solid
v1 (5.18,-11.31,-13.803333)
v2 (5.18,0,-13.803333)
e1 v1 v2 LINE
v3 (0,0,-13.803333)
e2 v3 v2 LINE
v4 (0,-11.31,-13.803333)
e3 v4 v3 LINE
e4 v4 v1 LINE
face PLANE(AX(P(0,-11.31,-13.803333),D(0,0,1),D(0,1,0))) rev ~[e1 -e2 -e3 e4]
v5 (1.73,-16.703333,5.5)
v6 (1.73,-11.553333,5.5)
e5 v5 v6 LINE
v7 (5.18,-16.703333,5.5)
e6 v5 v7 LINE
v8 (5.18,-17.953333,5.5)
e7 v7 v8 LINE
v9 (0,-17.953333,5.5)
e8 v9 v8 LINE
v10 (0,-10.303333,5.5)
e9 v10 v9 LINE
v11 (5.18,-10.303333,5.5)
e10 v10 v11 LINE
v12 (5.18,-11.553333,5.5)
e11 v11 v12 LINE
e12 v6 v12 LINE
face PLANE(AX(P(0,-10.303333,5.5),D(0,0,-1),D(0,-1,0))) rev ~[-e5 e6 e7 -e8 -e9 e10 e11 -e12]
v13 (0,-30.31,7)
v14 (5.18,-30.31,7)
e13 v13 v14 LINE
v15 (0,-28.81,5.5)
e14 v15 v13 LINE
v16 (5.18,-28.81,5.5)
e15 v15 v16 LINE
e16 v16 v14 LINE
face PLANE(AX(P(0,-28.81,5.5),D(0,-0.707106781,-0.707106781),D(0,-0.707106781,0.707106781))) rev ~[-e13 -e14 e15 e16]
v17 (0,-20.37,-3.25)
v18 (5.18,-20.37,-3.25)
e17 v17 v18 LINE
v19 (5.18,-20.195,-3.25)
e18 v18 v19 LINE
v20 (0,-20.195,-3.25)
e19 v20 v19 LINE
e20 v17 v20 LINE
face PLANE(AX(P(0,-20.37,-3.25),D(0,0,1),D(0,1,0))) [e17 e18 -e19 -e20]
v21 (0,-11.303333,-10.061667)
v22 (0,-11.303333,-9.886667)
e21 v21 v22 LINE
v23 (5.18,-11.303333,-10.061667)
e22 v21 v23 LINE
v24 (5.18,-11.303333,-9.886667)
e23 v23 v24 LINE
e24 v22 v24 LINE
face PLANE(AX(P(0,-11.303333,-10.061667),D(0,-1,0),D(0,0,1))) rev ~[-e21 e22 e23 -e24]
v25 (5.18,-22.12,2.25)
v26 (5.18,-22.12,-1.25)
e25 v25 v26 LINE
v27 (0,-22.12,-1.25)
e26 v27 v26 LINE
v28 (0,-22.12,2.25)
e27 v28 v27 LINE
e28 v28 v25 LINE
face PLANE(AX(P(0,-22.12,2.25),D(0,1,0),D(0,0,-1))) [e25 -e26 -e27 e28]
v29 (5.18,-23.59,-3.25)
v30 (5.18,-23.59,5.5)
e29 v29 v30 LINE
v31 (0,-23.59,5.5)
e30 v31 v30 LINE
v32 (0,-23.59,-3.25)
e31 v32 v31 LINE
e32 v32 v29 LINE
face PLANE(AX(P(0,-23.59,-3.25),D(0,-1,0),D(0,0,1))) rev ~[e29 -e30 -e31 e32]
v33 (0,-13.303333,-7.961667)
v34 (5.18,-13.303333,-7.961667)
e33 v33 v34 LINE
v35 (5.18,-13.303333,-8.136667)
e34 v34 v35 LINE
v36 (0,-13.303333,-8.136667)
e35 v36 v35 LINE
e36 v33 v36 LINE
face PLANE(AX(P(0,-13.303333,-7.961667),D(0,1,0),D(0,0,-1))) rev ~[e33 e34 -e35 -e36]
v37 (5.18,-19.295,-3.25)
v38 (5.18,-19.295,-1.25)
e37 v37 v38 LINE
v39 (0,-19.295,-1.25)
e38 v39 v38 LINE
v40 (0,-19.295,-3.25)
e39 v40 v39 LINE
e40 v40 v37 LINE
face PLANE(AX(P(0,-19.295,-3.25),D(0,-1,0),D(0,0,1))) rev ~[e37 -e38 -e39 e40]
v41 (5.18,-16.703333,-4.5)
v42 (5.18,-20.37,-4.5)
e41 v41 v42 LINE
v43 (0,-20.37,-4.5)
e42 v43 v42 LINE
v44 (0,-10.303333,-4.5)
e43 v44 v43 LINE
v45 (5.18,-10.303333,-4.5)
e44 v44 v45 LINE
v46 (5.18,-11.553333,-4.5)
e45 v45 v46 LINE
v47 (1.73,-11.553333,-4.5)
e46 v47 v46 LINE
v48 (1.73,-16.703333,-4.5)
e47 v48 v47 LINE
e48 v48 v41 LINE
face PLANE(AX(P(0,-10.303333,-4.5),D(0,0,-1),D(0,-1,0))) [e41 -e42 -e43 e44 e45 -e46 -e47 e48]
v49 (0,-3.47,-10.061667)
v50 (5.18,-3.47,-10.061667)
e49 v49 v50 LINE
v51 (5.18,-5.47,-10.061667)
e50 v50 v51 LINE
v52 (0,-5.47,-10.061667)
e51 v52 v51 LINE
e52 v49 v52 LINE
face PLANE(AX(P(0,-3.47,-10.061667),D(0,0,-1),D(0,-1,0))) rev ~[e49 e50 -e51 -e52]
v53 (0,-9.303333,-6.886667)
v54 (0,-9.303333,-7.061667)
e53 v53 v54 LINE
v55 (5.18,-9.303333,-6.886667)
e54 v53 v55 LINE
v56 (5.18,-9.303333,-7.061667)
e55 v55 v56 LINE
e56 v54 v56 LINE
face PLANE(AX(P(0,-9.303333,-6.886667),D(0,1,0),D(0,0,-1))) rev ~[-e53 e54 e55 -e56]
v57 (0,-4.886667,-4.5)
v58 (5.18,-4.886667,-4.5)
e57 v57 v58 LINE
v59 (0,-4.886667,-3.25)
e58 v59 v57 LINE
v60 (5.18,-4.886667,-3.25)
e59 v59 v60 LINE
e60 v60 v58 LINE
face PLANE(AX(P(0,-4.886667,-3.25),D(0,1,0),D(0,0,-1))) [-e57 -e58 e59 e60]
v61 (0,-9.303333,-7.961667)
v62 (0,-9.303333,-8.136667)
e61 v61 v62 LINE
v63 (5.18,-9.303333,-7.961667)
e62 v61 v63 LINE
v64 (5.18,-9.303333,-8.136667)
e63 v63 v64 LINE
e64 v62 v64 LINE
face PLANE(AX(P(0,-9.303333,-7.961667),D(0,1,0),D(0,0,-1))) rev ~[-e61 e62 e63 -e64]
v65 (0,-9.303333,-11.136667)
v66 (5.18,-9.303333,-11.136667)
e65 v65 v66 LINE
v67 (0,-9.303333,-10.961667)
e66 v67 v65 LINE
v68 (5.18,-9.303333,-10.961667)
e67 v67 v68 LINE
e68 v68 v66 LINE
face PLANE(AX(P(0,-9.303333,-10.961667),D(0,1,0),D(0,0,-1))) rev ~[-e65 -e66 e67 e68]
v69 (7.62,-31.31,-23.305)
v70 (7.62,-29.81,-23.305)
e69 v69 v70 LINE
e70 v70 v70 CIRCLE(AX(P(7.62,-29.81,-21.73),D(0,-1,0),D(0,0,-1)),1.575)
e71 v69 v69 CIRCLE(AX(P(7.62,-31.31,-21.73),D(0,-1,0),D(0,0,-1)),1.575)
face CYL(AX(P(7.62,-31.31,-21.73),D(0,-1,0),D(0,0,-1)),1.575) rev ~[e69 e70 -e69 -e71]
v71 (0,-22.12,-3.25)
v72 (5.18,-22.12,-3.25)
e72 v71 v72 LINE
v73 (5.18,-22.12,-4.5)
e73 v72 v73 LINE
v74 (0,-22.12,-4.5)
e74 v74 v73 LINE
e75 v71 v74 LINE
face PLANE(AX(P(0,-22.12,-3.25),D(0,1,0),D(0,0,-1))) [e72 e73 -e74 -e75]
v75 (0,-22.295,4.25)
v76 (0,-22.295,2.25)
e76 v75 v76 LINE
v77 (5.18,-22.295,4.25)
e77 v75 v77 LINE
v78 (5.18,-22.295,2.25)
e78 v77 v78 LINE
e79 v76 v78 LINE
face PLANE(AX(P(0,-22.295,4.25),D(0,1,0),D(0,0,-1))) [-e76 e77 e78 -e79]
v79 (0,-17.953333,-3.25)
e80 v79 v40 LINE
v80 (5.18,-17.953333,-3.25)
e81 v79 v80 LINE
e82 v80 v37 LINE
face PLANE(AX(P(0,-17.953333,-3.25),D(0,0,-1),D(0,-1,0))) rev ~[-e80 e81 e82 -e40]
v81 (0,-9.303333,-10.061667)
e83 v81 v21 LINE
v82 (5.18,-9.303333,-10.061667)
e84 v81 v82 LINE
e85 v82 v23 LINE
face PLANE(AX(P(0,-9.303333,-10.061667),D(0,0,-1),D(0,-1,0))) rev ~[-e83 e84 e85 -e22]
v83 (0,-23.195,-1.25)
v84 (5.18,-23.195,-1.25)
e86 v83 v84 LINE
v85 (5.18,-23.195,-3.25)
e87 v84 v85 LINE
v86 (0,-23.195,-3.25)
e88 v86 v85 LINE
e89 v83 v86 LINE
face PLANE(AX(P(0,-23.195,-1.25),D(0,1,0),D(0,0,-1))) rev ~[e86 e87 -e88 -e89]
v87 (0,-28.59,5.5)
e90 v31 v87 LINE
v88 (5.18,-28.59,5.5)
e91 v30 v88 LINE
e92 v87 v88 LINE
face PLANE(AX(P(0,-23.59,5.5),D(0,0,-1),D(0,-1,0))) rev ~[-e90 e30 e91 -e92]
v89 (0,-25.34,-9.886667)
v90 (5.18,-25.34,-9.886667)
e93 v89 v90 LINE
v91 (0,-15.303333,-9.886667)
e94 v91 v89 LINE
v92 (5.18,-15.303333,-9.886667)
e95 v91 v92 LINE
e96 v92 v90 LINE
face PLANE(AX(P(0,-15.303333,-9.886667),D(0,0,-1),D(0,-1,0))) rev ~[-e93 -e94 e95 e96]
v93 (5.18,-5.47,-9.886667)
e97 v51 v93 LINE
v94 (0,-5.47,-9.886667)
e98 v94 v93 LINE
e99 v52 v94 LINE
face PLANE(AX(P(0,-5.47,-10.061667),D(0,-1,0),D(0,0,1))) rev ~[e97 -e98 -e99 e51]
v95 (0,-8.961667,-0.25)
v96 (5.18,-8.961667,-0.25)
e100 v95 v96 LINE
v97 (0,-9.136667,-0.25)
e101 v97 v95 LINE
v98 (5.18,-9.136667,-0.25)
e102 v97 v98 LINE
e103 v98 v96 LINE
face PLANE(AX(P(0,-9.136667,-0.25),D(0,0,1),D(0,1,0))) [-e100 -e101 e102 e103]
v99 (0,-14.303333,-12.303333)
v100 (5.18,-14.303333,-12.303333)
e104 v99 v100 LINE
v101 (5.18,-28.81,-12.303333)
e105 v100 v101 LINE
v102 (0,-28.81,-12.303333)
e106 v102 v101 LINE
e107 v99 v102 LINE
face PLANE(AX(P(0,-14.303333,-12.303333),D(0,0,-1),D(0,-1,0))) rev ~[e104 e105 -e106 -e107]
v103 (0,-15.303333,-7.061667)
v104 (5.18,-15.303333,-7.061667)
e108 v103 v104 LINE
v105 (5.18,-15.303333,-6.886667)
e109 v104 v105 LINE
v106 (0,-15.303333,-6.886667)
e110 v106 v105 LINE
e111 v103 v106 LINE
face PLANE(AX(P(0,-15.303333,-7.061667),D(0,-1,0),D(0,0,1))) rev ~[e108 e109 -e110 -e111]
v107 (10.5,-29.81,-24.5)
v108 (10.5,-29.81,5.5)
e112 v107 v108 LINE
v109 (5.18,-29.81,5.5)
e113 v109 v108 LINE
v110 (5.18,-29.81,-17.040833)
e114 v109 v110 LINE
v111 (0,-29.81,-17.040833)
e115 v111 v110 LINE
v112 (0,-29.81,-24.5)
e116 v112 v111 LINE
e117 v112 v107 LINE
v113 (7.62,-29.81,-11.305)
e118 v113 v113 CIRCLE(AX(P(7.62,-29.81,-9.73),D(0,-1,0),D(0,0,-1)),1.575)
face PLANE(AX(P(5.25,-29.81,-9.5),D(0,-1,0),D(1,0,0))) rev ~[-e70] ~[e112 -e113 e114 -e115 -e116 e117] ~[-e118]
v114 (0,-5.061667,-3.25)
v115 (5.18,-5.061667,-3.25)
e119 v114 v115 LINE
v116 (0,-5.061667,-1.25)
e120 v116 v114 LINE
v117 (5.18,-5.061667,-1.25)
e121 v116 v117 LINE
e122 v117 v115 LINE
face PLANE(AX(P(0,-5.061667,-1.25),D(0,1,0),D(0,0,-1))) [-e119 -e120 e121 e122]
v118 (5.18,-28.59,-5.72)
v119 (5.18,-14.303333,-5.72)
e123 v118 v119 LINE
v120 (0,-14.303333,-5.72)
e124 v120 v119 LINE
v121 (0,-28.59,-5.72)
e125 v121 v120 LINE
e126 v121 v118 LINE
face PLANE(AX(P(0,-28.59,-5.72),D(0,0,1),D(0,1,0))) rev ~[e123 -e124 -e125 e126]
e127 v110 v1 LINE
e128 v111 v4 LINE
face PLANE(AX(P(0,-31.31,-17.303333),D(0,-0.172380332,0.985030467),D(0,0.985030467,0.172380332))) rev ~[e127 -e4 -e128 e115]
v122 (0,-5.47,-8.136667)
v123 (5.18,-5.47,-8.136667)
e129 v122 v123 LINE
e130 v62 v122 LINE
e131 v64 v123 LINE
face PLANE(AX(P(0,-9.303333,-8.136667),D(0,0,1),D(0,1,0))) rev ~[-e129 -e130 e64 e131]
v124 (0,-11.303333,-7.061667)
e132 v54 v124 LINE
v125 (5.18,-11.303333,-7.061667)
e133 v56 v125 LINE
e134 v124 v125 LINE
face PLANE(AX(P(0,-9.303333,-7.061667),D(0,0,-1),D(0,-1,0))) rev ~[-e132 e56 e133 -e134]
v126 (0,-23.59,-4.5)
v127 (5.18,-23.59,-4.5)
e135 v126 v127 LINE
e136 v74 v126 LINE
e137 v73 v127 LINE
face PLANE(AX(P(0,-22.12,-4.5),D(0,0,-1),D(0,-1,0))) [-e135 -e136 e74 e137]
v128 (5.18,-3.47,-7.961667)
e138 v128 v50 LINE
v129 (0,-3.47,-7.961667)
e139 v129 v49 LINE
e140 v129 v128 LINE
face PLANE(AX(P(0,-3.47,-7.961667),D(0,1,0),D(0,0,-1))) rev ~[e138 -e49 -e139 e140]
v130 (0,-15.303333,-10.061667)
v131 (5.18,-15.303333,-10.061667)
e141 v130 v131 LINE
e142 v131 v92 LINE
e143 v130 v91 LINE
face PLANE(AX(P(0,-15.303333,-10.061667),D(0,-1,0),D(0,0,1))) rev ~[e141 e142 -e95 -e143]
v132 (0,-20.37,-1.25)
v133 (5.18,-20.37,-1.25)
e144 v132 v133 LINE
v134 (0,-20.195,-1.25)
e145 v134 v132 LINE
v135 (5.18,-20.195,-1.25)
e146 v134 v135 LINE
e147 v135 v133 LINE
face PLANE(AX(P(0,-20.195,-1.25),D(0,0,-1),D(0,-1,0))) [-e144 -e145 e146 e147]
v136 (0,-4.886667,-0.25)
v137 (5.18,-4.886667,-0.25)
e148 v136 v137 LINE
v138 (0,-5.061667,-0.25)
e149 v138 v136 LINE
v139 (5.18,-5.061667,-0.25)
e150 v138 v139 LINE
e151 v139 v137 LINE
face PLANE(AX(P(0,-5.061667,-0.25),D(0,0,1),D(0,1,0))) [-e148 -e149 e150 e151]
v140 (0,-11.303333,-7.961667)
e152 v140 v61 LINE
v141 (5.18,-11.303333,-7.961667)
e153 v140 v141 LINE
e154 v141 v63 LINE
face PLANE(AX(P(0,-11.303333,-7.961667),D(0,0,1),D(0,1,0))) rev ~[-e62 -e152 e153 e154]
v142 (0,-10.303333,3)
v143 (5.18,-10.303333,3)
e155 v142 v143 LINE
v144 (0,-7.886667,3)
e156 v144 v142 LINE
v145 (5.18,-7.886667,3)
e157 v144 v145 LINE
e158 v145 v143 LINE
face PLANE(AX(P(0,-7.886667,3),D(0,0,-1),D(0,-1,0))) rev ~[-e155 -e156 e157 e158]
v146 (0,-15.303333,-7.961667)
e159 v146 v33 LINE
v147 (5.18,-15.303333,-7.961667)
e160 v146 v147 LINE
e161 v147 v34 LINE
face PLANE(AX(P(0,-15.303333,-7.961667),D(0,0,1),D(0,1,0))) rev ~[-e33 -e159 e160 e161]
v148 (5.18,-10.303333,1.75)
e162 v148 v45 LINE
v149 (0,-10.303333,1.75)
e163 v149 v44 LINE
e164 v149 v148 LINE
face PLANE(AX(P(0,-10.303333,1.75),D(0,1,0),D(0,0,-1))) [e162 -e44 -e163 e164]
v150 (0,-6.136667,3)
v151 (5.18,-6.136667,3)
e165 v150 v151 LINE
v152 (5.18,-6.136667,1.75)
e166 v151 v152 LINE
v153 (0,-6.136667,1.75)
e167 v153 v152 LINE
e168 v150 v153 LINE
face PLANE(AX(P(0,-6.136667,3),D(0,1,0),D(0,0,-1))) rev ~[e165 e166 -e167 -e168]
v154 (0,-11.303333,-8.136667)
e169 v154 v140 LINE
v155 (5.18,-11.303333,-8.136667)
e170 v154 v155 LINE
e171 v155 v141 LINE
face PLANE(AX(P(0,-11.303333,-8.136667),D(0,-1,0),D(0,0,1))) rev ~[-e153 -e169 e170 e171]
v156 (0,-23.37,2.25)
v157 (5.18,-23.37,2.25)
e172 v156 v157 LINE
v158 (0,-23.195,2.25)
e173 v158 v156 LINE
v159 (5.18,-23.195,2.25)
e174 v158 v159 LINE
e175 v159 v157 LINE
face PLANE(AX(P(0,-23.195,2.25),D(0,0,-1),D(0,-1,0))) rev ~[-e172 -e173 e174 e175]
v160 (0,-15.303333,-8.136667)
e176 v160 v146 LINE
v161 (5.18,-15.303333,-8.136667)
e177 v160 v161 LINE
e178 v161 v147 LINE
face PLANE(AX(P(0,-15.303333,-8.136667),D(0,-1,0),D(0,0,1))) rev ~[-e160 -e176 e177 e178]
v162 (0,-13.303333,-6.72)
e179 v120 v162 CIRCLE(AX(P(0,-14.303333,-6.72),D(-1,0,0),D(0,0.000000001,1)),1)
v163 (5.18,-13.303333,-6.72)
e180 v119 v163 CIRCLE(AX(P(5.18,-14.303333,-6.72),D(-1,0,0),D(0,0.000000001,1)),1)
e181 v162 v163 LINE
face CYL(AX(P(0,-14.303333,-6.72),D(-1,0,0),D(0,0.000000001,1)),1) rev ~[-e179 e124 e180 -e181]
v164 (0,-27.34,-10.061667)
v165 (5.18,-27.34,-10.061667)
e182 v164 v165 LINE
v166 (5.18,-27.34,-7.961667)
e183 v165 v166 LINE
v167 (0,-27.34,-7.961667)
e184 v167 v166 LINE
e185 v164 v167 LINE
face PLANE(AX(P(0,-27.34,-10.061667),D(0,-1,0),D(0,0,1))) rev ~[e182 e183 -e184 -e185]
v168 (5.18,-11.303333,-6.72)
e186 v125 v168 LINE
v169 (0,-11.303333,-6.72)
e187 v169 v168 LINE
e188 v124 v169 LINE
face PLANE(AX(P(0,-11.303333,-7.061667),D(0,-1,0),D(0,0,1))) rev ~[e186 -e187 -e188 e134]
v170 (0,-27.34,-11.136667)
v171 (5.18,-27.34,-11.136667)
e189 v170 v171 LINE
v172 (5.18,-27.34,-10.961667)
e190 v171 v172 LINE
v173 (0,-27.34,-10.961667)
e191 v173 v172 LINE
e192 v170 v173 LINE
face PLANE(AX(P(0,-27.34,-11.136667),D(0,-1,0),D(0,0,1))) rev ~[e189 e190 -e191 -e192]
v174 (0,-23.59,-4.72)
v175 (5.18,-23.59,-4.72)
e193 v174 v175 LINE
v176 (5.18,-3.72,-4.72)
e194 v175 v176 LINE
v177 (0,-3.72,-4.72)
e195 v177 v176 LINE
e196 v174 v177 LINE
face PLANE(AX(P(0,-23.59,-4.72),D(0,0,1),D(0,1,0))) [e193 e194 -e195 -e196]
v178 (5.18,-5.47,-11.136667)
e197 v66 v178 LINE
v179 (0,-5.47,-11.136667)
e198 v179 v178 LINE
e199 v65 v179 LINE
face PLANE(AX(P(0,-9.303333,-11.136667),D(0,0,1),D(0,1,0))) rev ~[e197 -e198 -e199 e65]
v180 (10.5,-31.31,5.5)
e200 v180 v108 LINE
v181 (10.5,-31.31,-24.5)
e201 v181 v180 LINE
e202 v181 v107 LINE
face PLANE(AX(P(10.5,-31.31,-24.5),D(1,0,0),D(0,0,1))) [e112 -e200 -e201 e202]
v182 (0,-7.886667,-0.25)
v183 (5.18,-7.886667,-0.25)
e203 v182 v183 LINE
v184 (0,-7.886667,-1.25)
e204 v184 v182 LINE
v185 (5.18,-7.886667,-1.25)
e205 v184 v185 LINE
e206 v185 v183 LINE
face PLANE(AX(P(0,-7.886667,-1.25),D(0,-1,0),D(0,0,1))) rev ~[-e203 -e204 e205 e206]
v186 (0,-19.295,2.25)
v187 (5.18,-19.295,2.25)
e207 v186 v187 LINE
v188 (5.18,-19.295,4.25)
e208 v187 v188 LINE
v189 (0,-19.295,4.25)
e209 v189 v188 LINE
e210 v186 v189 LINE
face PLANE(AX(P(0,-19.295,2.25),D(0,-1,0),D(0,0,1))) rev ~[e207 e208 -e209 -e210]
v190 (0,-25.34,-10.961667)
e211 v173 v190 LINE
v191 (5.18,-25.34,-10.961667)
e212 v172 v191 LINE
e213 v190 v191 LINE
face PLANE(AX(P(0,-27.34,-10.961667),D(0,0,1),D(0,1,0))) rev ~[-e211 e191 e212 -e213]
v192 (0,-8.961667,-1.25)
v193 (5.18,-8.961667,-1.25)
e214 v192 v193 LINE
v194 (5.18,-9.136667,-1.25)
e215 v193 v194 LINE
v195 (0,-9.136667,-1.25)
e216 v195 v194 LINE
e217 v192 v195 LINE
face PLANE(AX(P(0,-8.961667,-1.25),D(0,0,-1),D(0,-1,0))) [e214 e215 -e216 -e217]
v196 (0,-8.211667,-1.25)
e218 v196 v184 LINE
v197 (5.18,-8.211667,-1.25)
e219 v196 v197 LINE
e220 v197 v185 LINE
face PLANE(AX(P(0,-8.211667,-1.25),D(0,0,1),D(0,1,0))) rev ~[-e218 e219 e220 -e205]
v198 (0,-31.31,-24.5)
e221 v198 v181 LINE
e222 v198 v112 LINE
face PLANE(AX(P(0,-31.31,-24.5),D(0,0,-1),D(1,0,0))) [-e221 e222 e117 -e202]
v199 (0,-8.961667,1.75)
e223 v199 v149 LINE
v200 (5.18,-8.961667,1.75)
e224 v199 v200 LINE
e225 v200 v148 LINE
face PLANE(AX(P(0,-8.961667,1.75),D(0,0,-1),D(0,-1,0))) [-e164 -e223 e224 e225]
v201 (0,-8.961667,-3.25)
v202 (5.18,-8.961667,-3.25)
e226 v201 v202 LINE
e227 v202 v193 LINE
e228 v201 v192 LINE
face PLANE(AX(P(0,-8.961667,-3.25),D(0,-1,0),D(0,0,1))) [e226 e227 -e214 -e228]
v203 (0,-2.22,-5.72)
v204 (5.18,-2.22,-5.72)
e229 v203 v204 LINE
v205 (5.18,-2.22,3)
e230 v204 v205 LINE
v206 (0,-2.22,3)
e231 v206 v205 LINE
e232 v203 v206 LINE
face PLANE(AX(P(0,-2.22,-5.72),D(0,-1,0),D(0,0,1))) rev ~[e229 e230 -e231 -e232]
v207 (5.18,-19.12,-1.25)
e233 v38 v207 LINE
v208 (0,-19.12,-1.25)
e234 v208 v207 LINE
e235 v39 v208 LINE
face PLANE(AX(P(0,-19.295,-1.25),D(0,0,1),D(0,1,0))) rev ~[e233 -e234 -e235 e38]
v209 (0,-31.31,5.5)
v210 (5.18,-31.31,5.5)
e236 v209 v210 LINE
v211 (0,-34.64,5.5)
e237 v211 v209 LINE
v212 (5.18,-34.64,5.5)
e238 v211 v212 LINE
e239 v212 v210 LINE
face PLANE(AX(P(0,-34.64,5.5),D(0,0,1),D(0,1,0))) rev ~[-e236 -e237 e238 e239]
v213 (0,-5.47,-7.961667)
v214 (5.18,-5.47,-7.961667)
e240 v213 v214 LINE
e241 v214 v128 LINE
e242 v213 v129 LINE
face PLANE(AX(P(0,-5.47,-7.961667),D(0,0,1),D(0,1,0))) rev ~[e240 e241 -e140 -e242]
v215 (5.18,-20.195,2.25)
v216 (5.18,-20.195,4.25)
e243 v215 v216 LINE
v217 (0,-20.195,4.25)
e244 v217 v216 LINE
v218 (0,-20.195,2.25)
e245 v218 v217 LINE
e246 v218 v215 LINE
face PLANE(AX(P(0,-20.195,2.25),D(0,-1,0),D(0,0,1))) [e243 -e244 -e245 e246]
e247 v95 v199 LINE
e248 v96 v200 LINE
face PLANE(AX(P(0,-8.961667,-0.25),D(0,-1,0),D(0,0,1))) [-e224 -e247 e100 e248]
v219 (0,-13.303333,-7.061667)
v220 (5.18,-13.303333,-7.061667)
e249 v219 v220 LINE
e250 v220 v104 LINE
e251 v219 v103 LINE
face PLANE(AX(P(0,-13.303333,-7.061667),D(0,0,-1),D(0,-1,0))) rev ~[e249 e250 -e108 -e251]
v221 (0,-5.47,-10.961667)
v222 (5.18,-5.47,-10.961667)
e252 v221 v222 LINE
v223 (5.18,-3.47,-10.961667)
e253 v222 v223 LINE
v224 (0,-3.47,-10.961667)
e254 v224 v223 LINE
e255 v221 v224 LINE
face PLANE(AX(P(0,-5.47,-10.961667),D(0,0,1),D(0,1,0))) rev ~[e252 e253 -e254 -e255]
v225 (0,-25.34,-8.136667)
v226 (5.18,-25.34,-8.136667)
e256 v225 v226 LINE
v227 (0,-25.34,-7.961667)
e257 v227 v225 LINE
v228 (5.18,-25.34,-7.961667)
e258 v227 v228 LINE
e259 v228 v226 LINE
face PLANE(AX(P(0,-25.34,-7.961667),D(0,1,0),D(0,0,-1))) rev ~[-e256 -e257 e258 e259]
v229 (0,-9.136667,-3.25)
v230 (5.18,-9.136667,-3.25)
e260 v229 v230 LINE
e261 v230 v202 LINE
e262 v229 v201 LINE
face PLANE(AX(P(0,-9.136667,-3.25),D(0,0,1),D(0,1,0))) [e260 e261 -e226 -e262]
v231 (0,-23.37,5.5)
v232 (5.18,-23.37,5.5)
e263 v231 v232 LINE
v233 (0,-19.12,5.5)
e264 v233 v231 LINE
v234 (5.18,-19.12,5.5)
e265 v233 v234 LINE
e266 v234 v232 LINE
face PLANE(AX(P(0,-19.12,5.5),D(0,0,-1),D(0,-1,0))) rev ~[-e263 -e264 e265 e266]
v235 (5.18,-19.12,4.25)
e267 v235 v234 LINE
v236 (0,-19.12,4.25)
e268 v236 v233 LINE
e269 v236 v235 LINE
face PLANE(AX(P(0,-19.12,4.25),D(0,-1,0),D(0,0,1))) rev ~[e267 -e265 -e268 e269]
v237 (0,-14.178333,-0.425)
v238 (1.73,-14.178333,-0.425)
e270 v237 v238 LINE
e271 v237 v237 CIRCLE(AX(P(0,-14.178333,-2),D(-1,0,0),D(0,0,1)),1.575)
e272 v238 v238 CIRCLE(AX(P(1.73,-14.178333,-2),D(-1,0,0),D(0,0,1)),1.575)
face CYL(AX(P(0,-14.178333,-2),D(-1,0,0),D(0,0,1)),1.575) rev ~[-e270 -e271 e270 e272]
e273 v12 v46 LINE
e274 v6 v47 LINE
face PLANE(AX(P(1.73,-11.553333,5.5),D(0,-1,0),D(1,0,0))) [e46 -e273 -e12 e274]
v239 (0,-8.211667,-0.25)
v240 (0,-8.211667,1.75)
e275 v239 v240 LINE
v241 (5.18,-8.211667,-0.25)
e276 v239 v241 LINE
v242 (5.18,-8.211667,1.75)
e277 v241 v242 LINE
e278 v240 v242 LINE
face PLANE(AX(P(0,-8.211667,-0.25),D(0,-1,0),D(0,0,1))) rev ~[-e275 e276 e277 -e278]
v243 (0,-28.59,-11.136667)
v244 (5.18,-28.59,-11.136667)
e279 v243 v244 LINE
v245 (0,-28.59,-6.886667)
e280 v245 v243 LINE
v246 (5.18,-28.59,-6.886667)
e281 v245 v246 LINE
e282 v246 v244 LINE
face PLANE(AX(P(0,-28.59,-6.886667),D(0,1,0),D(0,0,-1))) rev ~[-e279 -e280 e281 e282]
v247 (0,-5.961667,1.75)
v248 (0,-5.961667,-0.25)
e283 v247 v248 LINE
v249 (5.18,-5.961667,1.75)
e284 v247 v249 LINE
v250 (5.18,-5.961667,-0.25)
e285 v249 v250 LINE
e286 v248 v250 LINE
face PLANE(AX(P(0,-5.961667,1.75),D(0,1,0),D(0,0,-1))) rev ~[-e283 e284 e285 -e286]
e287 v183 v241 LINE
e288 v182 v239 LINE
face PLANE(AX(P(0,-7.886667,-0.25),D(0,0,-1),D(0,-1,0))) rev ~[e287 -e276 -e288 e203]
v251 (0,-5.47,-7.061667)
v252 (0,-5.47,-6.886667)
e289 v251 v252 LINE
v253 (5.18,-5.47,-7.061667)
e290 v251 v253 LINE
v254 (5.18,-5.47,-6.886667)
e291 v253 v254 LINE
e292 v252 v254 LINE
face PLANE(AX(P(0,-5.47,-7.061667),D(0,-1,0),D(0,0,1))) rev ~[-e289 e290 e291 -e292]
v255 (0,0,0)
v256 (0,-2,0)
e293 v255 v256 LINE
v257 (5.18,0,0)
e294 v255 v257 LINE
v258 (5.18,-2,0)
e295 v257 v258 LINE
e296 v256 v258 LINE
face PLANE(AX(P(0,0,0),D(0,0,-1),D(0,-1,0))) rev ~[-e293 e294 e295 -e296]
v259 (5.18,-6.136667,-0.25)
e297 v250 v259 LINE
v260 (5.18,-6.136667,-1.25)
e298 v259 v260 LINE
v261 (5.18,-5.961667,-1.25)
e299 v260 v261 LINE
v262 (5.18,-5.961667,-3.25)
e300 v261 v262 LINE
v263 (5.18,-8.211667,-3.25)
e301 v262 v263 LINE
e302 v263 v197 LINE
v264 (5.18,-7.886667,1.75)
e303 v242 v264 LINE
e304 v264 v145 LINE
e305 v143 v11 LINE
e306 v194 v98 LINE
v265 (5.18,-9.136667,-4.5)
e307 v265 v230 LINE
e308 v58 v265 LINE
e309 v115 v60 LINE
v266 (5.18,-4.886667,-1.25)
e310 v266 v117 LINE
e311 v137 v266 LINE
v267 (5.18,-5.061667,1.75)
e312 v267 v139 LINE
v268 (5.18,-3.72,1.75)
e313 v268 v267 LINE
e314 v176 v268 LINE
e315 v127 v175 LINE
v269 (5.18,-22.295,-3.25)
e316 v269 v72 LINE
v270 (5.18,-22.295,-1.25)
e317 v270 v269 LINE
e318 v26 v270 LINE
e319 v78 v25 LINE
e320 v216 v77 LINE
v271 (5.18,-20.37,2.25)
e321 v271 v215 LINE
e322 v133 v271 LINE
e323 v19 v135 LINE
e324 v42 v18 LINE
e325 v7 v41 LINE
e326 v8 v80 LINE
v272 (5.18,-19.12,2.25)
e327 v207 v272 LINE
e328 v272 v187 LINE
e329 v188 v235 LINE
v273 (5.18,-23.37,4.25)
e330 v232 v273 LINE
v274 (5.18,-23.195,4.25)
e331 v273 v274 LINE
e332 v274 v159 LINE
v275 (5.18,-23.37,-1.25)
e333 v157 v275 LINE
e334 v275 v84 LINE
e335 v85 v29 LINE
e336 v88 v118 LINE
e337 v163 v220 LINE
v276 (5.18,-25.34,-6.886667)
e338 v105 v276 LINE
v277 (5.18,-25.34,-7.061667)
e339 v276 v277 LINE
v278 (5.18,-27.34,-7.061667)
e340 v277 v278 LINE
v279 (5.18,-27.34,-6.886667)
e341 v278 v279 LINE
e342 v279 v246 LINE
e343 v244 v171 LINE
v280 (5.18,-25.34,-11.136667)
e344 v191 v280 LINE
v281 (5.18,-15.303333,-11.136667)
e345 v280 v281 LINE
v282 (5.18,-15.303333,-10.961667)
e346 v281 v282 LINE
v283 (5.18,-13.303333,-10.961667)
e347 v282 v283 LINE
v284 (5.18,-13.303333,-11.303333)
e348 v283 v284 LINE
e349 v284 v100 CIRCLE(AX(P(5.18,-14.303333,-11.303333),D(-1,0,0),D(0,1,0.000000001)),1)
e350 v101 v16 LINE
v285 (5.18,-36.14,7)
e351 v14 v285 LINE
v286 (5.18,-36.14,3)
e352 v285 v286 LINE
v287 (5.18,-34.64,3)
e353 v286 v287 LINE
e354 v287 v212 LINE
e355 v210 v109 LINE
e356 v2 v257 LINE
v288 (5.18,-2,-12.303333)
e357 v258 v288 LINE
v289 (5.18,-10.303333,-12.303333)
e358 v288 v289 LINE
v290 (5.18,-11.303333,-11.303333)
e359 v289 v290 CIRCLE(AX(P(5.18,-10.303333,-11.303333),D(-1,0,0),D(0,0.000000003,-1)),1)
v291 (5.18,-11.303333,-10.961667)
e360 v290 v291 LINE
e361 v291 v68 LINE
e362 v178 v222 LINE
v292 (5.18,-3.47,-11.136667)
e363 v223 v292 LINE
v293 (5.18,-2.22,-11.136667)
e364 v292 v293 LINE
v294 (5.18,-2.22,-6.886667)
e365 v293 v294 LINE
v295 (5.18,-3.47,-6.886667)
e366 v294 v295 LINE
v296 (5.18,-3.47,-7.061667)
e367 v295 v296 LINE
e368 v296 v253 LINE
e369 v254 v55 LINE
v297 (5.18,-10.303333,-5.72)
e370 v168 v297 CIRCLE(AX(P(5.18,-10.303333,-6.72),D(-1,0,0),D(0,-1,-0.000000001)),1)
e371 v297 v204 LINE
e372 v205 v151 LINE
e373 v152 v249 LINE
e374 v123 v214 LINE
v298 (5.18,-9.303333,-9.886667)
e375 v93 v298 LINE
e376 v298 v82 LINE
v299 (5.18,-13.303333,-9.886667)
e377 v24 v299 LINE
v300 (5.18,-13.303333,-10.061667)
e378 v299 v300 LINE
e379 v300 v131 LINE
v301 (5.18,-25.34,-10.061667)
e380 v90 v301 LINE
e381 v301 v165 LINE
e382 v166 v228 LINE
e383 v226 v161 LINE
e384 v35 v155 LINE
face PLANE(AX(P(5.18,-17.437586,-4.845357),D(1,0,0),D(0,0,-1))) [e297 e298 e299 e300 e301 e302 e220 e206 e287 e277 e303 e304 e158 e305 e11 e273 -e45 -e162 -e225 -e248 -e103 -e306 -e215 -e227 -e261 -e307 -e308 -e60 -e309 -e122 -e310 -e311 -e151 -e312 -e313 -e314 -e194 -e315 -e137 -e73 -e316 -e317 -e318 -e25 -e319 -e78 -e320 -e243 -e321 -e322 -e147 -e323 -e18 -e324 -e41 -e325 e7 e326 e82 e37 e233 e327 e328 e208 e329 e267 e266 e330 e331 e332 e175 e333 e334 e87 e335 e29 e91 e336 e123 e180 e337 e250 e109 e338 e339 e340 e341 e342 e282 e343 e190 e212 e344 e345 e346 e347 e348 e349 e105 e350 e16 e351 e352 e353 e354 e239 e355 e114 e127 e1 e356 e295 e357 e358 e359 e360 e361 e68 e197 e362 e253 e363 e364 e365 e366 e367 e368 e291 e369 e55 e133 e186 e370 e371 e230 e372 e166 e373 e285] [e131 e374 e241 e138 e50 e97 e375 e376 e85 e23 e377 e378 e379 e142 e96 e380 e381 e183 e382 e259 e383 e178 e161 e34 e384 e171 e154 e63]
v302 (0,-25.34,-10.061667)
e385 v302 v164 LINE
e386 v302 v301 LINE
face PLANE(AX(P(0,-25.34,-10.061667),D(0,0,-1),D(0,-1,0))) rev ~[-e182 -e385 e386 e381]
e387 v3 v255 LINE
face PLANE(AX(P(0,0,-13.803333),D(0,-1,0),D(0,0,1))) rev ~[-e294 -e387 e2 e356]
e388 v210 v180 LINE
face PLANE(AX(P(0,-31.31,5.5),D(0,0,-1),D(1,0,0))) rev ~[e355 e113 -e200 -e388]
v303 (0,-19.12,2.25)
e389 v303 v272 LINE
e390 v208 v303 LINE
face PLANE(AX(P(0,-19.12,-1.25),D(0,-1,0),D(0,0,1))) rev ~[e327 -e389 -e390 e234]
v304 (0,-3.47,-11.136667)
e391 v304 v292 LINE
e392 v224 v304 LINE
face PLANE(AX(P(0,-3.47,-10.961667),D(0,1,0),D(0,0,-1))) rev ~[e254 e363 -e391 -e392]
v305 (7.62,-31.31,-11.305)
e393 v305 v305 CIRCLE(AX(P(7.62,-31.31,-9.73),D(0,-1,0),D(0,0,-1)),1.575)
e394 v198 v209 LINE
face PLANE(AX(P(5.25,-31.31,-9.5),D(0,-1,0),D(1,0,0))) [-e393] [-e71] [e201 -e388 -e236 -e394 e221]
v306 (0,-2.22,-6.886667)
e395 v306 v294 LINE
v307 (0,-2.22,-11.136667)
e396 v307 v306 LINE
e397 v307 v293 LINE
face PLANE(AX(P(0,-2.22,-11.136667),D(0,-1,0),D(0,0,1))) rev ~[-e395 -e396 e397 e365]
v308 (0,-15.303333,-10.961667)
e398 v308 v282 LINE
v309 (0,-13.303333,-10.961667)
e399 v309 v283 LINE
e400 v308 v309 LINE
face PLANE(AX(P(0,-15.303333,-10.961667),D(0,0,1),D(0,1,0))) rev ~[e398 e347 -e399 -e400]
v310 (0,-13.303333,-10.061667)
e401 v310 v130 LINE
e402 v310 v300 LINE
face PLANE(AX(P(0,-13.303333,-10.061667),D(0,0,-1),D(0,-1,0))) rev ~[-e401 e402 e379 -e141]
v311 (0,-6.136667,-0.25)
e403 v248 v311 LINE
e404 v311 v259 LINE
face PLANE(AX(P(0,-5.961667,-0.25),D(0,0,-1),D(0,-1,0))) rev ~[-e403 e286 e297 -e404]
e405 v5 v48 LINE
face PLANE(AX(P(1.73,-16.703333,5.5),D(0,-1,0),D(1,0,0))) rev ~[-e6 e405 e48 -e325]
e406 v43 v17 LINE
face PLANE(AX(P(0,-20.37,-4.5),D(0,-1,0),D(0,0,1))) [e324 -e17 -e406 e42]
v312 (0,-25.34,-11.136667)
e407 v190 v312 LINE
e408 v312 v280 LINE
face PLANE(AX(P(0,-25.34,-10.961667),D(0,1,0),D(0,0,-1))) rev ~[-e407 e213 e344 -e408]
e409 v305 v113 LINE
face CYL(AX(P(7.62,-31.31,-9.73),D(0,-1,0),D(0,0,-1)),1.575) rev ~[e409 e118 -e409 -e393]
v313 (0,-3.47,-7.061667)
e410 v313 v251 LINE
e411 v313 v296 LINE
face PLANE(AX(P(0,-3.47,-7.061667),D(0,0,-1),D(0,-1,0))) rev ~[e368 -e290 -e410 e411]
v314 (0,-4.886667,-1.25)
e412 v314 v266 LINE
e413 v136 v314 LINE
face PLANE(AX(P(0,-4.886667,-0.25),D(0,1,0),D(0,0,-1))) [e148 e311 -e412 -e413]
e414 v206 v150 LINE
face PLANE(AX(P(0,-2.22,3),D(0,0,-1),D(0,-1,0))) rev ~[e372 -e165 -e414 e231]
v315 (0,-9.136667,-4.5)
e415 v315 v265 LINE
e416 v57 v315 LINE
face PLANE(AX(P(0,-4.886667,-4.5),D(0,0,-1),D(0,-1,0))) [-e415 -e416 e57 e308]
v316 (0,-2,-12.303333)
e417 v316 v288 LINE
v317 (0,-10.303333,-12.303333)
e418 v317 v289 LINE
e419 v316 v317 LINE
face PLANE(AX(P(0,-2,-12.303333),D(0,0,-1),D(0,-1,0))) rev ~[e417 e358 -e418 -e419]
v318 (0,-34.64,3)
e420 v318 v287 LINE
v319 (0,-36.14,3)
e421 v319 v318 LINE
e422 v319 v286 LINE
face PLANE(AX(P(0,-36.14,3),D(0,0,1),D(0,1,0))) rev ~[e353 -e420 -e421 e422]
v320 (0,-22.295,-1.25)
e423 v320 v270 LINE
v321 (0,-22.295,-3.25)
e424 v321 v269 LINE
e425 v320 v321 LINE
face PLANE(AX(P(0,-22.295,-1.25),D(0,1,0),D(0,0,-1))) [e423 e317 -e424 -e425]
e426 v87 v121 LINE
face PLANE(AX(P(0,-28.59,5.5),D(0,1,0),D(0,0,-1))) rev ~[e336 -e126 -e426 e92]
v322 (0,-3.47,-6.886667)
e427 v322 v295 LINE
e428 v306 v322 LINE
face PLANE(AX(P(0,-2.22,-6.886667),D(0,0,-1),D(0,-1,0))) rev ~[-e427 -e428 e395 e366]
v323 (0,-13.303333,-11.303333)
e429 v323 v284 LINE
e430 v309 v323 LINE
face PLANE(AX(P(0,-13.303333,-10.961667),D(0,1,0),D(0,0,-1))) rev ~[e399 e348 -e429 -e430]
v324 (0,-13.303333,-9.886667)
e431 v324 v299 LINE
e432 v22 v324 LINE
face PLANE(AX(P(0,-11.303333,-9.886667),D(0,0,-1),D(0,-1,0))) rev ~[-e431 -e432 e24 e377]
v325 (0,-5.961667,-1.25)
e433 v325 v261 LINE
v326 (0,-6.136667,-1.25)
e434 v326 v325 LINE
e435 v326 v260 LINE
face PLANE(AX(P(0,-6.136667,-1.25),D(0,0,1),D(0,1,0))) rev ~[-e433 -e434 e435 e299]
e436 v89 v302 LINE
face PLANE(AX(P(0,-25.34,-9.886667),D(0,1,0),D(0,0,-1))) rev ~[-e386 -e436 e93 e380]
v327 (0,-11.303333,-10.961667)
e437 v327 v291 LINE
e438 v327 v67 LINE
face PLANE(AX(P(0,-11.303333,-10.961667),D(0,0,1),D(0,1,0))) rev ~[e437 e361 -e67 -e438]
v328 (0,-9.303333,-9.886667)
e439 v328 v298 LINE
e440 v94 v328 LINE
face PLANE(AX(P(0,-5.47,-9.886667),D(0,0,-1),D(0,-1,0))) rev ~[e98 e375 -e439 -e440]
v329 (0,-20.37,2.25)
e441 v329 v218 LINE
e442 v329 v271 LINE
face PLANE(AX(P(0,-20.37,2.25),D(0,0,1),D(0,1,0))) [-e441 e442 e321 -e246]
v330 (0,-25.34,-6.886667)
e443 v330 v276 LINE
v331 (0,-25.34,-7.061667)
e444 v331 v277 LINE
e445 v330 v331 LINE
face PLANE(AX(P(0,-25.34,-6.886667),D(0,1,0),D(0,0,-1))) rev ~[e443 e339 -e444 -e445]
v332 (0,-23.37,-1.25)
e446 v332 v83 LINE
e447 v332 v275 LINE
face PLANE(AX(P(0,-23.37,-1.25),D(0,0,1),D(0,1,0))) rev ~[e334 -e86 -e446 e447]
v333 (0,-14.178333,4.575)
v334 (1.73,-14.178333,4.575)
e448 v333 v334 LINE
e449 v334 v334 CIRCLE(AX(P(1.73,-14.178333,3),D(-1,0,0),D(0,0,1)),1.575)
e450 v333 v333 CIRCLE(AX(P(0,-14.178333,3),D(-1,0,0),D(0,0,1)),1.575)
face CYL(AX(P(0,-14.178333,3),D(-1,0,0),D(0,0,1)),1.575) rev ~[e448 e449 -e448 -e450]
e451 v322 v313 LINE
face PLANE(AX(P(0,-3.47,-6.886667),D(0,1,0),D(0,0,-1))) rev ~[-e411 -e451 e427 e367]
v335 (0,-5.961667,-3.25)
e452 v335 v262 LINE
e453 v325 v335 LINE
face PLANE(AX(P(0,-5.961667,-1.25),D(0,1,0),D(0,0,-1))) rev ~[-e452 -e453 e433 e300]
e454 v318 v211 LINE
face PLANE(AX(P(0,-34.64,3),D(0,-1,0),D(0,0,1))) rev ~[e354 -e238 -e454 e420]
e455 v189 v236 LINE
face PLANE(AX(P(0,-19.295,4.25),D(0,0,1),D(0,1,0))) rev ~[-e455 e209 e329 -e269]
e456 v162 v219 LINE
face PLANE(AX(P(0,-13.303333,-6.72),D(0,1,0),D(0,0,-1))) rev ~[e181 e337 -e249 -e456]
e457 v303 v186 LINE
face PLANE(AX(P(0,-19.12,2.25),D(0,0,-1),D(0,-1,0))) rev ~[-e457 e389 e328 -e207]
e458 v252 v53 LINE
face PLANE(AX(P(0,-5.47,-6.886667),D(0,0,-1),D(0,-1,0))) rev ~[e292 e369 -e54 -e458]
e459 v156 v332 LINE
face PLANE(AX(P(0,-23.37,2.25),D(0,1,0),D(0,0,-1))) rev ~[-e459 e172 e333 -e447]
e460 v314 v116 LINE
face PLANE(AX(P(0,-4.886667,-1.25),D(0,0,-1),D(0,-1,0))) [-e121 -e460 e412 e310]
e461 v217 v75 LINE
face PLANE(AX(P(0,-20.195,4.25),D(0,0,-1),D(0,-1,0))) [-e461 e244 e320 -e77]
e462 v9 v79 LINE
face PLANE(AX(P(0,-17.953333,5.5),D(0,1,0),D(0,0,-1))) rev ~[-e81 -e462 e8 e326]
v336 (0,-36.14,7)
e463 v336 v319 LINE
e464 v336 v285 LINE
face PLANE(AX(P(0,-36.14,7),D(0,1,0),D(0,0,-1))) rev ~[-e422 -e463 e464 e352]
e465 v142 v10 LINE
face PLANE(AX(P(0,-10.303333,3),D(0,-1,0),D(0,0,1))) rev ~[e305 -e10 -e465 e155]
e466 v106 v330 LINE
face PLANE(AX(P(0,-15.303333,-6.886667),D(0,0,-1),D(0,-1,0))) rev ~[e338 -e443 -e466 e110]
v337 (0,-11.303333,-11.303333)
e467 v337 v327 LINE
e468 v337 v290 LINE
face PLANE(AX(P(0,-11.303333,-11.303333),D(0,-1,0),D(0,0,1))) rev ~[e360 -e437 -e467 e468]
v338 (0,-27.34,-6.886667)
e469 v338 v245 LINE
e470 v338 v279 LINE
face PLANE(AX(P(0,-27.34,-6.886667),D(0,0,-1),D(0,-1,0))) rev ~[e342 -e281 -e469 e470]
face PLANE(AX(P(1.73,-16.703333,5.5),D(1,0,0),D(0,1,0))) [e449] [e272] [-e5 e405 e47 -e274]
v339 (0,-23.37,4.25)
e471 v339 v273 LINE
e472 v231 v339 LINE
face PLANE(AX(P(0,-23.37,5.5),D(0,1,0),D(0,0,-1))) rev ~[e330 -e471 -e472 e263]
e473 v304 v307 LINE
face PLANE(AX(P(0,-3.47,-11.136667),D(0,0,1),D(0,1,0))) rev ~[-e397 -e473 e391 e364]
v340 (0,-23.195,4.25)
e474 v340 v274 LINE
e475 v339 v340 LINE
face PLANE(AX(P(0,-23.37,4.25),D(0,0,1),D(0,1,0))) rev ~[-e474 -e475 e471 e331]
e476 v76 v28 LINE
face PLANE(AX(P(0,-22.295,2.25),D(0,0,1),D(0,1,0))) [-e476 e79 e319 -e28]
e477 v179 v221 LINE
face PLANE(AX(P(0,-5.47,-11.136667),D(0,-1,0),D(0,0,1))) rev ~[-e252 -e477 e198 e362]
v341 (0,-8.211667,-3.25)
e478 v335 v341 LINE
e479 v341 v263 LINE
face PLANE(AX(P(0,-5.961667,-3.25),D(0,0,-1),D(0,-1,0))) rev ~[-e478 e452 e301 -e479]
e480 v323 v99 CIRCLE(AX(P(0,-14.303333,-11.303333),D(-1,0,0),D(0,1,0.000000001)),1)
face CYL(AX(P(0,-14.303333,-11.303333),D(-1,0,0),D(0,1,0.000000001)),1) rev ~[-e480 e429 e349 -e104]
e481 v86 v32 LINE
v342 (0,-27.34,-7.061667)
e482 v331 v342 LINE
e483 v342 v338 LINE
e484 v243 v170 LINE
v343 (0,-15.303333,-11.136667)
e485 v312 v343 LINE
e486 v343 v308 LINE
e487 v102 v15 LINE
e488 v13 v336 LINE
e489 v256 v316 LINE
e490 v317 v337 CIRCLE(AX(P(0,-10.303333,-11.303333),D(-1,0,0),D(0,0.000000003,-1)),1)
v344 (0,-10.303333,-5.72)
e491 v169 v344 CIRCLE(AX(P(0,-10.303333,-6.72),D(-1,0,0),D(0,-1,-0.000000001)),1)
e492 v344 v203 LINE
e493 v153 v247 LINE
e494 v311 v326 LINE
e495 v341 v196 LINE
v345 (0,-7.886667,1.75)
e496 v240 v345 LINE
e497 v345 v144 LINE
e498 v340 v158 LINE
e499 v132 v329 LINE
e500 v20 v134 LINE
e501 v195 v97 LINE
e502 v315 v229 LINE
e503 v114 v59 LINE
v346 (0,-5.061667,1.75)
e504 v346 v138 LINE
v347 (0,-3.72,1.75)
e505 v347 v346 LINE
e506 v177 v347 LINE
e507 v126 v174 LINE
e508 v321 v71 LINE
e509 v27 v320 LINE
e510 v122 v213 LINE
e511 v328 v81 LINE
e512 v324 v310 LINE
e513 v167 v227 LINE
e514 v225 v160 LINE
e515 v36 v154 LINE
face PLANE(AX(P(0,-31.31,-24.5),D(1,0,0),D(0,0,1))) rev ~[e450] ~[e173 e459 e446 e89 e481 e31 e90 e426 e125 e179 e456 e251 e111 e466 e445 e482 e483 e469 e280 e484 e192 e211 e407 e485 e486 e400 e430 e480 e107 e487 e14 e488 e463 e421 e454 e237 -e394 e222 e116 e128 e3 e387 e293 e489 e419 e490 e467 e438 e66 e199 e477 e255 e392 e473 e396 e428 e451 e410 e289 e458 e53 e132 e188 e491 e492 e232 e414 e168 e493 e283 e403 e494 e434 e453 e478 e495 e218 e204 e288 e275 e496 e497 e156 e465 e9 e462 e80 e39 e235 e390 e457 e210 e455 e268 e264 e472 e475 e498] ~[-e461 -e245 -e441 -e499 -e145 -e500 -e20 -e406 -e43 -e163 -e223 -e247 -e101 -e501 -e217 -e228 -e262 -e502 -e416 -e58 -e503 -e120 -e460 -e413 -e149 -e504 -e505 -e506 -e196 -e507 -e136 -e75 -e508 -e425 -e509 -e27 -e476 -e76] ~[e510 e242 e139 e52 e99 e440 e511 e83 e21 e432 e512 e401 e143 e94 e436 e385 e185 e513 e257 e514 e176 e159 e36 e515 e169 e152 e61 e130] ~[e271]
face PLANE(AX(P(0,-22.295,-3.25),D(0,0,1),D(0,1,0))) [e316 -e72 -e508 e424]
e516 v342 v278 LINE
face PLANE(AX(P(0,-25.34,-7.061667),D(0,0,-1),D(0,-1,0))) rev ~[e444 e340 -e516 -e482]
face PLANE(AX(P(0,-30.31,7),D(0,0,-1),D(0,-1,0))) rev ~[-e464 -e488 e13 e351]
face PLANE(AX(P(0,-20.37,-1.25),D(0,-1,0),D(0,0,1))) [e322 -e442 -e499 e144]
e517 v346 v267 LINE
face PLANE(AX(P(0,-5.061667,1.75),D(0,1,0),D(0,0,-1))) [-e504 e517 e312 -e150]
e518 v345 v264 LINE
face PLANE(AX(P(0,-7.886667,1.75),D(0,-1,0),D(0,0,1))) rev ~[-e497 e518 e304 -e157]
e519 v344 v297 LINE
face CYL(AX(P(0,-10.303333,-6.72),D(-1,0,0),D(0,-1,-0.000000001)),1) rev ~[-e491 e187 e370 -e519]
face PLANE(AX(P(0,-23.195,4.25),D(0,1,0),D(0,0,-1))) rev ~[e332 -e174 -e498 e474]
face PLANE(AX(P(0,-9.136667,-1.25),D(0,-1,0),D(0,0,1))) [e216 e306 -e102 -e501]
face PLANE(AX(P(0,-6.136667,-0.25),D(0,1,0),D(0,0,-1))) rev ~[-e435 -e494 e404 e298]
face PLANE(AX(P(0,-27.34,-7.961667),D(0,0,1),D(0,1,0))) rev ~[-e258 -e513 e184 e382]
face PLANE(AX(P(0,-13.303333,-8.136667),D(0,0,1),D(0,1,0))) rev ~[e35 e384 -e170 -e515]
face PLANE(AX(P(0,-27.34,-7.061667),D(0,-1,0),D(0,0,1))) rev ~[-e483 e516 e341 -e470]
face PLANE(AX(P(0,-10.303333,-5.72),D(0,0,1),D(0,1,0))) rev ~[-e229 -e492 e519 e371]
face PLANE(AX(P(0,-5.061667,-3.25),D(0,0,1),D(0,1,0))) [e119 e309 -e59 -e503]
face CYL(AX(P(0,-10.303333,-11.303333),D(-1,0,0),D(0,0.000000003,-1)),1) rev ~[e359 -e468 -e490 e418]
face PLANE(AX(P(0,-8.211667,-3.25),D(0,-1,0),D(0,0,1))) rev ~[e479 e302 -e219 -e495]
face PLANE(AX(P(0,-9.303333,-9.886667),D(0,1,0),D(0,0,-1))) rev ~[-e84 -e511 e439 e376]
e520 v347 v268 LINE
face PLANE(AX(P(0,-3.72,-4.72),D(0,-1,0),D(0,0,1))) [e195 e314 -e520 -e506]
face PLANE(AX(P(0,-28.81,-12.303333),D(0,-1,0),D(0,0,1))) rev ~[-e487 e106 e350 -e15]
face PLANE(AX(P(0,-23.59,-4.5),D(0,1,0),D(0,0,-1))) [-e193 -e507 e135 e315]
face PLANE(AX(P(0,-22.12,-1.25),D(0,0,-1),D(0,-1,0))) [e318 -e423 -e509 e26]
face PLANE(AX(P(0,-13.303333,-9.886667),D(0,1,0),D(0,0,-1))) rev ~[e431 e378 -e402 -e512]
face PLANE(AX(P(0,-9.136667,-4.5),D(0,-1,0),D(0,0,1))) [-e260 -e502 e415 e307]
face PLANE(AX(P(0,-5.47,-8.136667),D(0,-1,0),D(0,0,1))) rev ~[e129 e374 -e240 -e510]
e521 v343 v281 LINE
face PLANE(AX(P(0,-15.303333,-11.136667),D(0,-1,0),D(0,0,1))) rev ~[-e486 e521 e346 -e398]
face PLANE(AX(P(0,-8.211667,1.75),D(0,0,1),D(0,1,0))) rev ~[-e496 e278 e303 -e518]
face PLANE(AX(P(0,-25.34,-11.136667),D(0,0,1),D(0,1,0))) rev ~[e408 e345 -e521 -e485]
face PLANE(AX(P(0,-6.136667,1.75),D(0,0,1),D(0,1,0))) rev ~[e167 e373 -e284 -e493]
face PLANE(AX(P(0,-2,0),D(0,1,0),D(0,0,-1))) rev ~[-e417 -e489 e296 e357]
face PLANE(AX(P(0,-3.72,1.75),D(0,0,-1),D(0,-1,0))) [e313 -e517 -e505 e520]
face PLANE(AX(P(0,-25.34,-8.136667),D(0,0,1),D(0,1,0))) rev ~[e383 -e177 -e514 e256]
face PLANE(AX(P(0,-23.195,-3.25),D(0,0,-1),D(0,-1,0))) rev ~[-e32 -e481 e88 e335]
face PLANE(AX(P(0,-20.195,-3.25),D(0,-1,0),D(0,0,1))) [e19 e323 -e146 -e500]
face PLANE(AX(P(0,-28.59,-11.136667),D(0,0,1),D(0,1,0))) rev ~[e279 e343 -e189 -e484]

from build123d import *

# Parameters (mm, degrees)
BOSS_EXTRUDE1_DEPTH = 5.18
CUT_EXTRUDE4_REACH  = 45.046
SKETCH2_W           = 3.45
SKETCH2_H           = 5.15
CUT_EXTRUDE3_REACH  = 42.402
SKETCH7_R           = 1.575
SKETCH3_W           = 10.5
SKETCH3_H           = 30
SKETCH3_R           = 1.575
BOSS_EXTRUDE2_DEPTH = 1.5


with BuildPart() as part:
    # Sketch1 → Boss-Extrude1 (new body)
    with BuildSketch(Plane(origin=(0, 0, 0), x_dir=(0, 0, -1), z_dir=(1, 0, 0))):
        with BuildLine():
            Line((-5.5, -10.303333333), (-5.5, -17.953333333))
            Line((-5.5, -17.953333333), (3.25, -17.953333333))
            Line((3.25, -17.953333333), (3.25, -19.295))
            Line((3.25, -19.295), (1.25, -19.295))
            Line((1.25, -19.295), (1.25, -19.12))
            Line((1.25, -19.12), (-2.25, -19.12))
            Line((-2.25, -19.12), (-2.25, -19.295))
            Line((-2.25, -19.295), (-4.25, -19.295))
            Line((-4.25, -19.295), (-4.25, -19.12))
            Line((-4.25, -19.12), (-5.5, -19.12))
            Line((-5.5, -19.12), (-5.5, -23.37))
            Line((-5.5, -23.37), (-4.25, -23.37))
            Line((-4.25, -23.37), (-4.25, -23.195))
            Line((-4.25, -23.195), (-2.25, -23.195))
            Line((-2.25, -23.195), (-2.25, -23.37))
            Line((-2.25, -23.37), (1.25, -23.37))
            Line((1.25, -23.37), (1.25, -23.195))
            Line((1.25, -23.195), (3.25, -23.195))
            Line((3.25, -23.195), (3.25, -23.59))
            Line((3.25, -23.59), (-5.5, -23.59))
            Line((-5.5, -23.59), (-5.5, -28.59))
            Line((-5.5, -28.59), (5.72, -28.59))
            Line((5.72, -28.59), (5.72, -14.303333333))
            ThreePointArc((5.72, -14.303333333), (6.012893219, -13.596226552), (6.72, -13.303333333))
            Line((6.72, -13.303333333), (7.061666667, -13.303333333))
            Line((7.061666667, -13.303333333), (7.061666667, -15.303333333))
            Line((7.061666667, -15.303333333), (6.886666667, -15.303333333))
            Line((6.886666667, -15.303333333), (6.886666667, -25.34))
            Line((6.886666667, -25.34), (7.061666667, -25.34))
            Line((7.061666667, -25.34), (7.061666667, -27.34))
            Line((7.061666667, -27.34), (6.886666667, -27.34))
            Line((6.886666667, -27.34), (6.886666667, -28.59))
            Line((6.886666667, -28.59), (11.136666667, -28.59))
            Line((11.136666667, -28.59), (11.136666667, -27.34))
            Line((11.136666667, -27.34), (10.961666667, -27.34))
            Line((10.961666667, -27.34), (10.961666667, -25.34))
            Line((10.961666667, -25.34), (11.136666667, -25.34))
            Line((11.136666667, -25.34), (11.136666667, -15.303333333))
            Line((11.136666667, -15.303333333), (10.961666667, -15.303333333))
            Line((10.961666667, -15.303333333), (10.961666667, -13.303333333))
            Line((10.961666667, -13.303333333), (11.303333333, -13.303333333))
            ThreePointArc((11.303333333, -13.303333333), (12.010440115, -13.596226552), (12.303333333, -14.303333333))
            Line((12.303333333, -14.303333333), (12.303333333, -28.81))
            Line((12.303333333, -28.81), (-5.5, -28.81))
            Line((-5.5, -28.81), (-7, -30.31))
            Line((-7, -30.31), (-7, -36.14))
            Line((-7, -36.14), (-3, -36.14))
            Line((-3, -36.14), (-3, -34.64))
            Line((-3, -34.64), (-5.5, -34.64))
            Line((-5.5, -34.64), (-5.5, -31.31))
            Line((-5.5, -31.31), (17.303333333, -31.31))
            Line((17.303333333, -31.31), (13.803333333, -11.31))
            Line((13.803333333, -11.31), (13.803333333, 0))
            Line((13.803333333, 0), (0, 0))
            Line((0, 0), (0, -2))
            Line((0, -2), (12.303333333, -2))
            Line((12.303333333, -2), (12.303333333, -10.303333333))
            ThreePointArc((12.303333333, -10.303333333), (12.010440115, -11.010440115), (11.303333333, -11.303333333))
            Line((11.303333333, -11.303333333), (10.961666667, -11.303333333))
            Line((10.961666667, -11.303333333), (10.961666667, -9.303333333))
            Line((10.961666667, -9.303333333), (11.136666667, -9.303333333))
            Line((11.136666667, -9.303333333), (11.136666667, -5.47))
            Line((11.136666667, -5.47), (10.961666667, -5.47))
            Line((10.961666667, -5.47), (10.961666667, -3.47))
            Line((10.961666667, -3.47), (11.136666667, -3.47))
            Line((11.136666667, -3.47), (11.136666667, -2.22))
            Line((11.136666667, -2.22), (6.886666667, -2.22))
            Line((6.886666667, -2.22), (6.886666667, -3.47))
            Line((6.886666667, -3.47), (7.061666667, -3.47))
            Line((7.061666667, -3.47), (7.061666667, -5.47))
            Line((7.061666667, -5.47), (6.886666667, -5.47))
            Line((6.886666667, -5.47), (6.886666667, -9.303333333))
            Line((6.886666667, -9.303333333), (7.061666667, -9.303333333))
            Line((7.061666667, -9.303333333), (7.061666667, -11.303333333))
            Line((7.061666667, -11.303333333), (6.72, -11.303333333))
            ThreePointArc((6.72, -11.303333333), (6.012893219, -11.010440115), (5.72, -10.303333333))
            Line((5.72, -10.303333333), (5.72, -2.22))
            Line((5.72, -2.22), (-3, -2.22))
            Line((-3, -2.22), (-3, -6.136666667))
            Line((-3, -6.136666667), (-1.75, -6.136666667))
            Line((-1.75, -6.136666667), (-1.75, -5.961666667))
            Line((-1.75, -5.961666667), (0.25, -5.961666667))
            Line((0.25, -5.961666667), (0.25, -6.136666667))
            Line((0.25, -6.136666667), (1.25, -6.136666667))
            Line((1.25, -6.136666667), (1.25, -5.961666667))
            Line((1.25, -5.961666667), (3.25, -5.961666667))
            Line((3.25, -5.961666667), (3.25, -8.211666667))
            Line((3.25, -8.211666667), (1.25, -8.211666667))
            Line((1.25, -8.211666667), (1.25, -7.886666667))
            Line((1.25, -7.886666667), (0.25, -7.886666667))
            Line((0.25, -7.886666667), (0.25, -8.211666667))
            Line((0.25, -8.211666667), (-1.75, -8.211666667))
            Line((-1.75, -8.211666667), (-1.75, -7.886666667))
            Line((-1.75, -7.886666667), (-3, -7.886666667))
            Line((-3, -7.886666667), (-3, -10.303333333))
            Line((-3, -10.303333333), (-5.5, -10.303333333))
        make_face()
        Polygon((-1.75, -10.303333333), (4.5, -10.303333333), (4.5, -20.37), (3.25, -20.37), (3.25, -20.195), (1.25, -20.195), (1.25, -20.37), (-2.25, -20.37), (-2.25, -20.195), (-4.25, -20.195), (-4.25, -22.295), (-2.25, -22.295), (-2.25, -22.12), (1.25, -22.12), (1.25, -22.295), (3.25, -22.295), (3.25, -22.12), (4.5, -22.12), (4.5, -23.59), (4.72, -23.59), (4.72, -3.72), (-1.75, -3.72), (-1.75, -5.061666667), (0.25, -5.061666667), (0.25, -4.886666667), (1.25, -4.886666667), (1.25, -5.061666667), (3.25, -5.061666667), (3.25, -4.886666667), (4.5, -4.886666667), (4.5, -9.136666667), (3.25, -9.136666667), (3.25, -8.961666667), (1.25, -8.961666667), (1.25, -9.136666667), (0.25, -9.136666667), (0.25, -8.961666667), (-1.75, -8.961666667), align=None, mode=Mode.SUBTRACT)
        Polygon((10.061666667, -27.34), (7.961666667, -27.34), (7.961666667, -25.34), (8.136666667, -25.34), (8.136666667, -15.303333333), (7.961666667, -15.303333333), (7.961666667, -13.303333333), (8.136666667, -13.303333333), (8.136666667, -11.303333333), (7.961666667, -11.303333333), (7.961666667, -9.303333333), (8.136666667, -9.303333333), (8.136666667, -5.47), (7.961666667, -5.47), (7.961666667, -3.47), (10.061666667, -3.47), (10.061666667, -5.47), (9.886666667, -5.47), (9.886666667, -9.303333333), (10.061666667, -9.303333333), (10.061666667, -11.303333333), (9.886666667, -11.303333333), (9.886666667, -13.303333333), (10.061666667, -13.303333333), (10.061666667, -15.303333333), (9.886666667, -15.303333333), (9.886666667, -25.34), (10.061666667, -25.34), align=None, mode=Mode.SUBTRACT)
    extrude(amount=BOSS_EXTRUDE1_DEPTH)

    # Sketch2 → Cut-Extrude4 (cut, up to next)
    with BuildSketch(Plane.XY.offset(5.5), mode=Mode.PRIVATE) as cut_extrude4_sk1:
        with Locations((3.455, -14.128333333)):
            Rectangle(SKETCH2_W, SKETCH2_H)
    cut_extrude4_tool1 = extrude(cut_extrude4_sk1.sketch, amount=-CUT_EXTRUDE4_REACH, mode=Mode.PRIVATE) & part.part
    add(cut_extrude4_tool1.solids().sort_by_distance((3.455, -14.128333, 5.5))[0], mode=Mode.SUBTRACT)

    # Sketch7 → Cut-Extrude3 (cut, up to next)
    with BuildSketch(Plane.ZY, mode=Mode.PRIVATE) as cut_extrude3_sk1:
        with Locations((3, -14.178333333)):
            Circle(SKETCH7_R)
    cut_extrude3_tool1 = extrude(cut_extrude3_sk1.sketch, amount=-CUT_EXTRUDE3_REACH, mode=Mode.PRIVATE) & part.part
    # Sketch7 → Cut-Extrude3 (cut, up to next)
    with BuildSketch(Plane.ZY, mode=Mode.PRIVATE) as cut_extrude3_sk2:
        with Locations((-2, -14.178333333)):
            Circle(SKETCH7_R)
    cut_extrude3_tool2 = extrude(cut_extrude3_sk2.sketch, amount=-CUT_EXTRUDE3_REACH, mode=Mode.PRIVATE) & part.part
    add(cut_extrude3_tool1.solids().sort_by_distance((0, -14.178333, 3))[0], mode=Mode.SUBTRACT)
    add(cut_extrude3_tool2.solids().sort_by_distance((0, -14.178333, -2))[0], mode=Mode.SUBTRACT)

    # Sketch3 → Boss-Extrude2 (add)
    with BuildSketch(Plane.XZ.offset(31.31)):
        with Locations((5.25, -9.5)):
            Rectangle(SKETCH3_W, SKETCH3_H)
        with Locations(Location((7.62, -9.73, 0), (0, 0, 270))):
            Circle(SKETCH3_R, mode=Mode.SUBTRACT)
        with Locations(Location((7.62, -21.73, 0), (0, 0, 270))):
            Circle(SKETCH3_R, mode=Mode.SUBTRACT)
    extrude(amount=-BOSS_EXTRUDE2_DEPTH)


solid = part.part
